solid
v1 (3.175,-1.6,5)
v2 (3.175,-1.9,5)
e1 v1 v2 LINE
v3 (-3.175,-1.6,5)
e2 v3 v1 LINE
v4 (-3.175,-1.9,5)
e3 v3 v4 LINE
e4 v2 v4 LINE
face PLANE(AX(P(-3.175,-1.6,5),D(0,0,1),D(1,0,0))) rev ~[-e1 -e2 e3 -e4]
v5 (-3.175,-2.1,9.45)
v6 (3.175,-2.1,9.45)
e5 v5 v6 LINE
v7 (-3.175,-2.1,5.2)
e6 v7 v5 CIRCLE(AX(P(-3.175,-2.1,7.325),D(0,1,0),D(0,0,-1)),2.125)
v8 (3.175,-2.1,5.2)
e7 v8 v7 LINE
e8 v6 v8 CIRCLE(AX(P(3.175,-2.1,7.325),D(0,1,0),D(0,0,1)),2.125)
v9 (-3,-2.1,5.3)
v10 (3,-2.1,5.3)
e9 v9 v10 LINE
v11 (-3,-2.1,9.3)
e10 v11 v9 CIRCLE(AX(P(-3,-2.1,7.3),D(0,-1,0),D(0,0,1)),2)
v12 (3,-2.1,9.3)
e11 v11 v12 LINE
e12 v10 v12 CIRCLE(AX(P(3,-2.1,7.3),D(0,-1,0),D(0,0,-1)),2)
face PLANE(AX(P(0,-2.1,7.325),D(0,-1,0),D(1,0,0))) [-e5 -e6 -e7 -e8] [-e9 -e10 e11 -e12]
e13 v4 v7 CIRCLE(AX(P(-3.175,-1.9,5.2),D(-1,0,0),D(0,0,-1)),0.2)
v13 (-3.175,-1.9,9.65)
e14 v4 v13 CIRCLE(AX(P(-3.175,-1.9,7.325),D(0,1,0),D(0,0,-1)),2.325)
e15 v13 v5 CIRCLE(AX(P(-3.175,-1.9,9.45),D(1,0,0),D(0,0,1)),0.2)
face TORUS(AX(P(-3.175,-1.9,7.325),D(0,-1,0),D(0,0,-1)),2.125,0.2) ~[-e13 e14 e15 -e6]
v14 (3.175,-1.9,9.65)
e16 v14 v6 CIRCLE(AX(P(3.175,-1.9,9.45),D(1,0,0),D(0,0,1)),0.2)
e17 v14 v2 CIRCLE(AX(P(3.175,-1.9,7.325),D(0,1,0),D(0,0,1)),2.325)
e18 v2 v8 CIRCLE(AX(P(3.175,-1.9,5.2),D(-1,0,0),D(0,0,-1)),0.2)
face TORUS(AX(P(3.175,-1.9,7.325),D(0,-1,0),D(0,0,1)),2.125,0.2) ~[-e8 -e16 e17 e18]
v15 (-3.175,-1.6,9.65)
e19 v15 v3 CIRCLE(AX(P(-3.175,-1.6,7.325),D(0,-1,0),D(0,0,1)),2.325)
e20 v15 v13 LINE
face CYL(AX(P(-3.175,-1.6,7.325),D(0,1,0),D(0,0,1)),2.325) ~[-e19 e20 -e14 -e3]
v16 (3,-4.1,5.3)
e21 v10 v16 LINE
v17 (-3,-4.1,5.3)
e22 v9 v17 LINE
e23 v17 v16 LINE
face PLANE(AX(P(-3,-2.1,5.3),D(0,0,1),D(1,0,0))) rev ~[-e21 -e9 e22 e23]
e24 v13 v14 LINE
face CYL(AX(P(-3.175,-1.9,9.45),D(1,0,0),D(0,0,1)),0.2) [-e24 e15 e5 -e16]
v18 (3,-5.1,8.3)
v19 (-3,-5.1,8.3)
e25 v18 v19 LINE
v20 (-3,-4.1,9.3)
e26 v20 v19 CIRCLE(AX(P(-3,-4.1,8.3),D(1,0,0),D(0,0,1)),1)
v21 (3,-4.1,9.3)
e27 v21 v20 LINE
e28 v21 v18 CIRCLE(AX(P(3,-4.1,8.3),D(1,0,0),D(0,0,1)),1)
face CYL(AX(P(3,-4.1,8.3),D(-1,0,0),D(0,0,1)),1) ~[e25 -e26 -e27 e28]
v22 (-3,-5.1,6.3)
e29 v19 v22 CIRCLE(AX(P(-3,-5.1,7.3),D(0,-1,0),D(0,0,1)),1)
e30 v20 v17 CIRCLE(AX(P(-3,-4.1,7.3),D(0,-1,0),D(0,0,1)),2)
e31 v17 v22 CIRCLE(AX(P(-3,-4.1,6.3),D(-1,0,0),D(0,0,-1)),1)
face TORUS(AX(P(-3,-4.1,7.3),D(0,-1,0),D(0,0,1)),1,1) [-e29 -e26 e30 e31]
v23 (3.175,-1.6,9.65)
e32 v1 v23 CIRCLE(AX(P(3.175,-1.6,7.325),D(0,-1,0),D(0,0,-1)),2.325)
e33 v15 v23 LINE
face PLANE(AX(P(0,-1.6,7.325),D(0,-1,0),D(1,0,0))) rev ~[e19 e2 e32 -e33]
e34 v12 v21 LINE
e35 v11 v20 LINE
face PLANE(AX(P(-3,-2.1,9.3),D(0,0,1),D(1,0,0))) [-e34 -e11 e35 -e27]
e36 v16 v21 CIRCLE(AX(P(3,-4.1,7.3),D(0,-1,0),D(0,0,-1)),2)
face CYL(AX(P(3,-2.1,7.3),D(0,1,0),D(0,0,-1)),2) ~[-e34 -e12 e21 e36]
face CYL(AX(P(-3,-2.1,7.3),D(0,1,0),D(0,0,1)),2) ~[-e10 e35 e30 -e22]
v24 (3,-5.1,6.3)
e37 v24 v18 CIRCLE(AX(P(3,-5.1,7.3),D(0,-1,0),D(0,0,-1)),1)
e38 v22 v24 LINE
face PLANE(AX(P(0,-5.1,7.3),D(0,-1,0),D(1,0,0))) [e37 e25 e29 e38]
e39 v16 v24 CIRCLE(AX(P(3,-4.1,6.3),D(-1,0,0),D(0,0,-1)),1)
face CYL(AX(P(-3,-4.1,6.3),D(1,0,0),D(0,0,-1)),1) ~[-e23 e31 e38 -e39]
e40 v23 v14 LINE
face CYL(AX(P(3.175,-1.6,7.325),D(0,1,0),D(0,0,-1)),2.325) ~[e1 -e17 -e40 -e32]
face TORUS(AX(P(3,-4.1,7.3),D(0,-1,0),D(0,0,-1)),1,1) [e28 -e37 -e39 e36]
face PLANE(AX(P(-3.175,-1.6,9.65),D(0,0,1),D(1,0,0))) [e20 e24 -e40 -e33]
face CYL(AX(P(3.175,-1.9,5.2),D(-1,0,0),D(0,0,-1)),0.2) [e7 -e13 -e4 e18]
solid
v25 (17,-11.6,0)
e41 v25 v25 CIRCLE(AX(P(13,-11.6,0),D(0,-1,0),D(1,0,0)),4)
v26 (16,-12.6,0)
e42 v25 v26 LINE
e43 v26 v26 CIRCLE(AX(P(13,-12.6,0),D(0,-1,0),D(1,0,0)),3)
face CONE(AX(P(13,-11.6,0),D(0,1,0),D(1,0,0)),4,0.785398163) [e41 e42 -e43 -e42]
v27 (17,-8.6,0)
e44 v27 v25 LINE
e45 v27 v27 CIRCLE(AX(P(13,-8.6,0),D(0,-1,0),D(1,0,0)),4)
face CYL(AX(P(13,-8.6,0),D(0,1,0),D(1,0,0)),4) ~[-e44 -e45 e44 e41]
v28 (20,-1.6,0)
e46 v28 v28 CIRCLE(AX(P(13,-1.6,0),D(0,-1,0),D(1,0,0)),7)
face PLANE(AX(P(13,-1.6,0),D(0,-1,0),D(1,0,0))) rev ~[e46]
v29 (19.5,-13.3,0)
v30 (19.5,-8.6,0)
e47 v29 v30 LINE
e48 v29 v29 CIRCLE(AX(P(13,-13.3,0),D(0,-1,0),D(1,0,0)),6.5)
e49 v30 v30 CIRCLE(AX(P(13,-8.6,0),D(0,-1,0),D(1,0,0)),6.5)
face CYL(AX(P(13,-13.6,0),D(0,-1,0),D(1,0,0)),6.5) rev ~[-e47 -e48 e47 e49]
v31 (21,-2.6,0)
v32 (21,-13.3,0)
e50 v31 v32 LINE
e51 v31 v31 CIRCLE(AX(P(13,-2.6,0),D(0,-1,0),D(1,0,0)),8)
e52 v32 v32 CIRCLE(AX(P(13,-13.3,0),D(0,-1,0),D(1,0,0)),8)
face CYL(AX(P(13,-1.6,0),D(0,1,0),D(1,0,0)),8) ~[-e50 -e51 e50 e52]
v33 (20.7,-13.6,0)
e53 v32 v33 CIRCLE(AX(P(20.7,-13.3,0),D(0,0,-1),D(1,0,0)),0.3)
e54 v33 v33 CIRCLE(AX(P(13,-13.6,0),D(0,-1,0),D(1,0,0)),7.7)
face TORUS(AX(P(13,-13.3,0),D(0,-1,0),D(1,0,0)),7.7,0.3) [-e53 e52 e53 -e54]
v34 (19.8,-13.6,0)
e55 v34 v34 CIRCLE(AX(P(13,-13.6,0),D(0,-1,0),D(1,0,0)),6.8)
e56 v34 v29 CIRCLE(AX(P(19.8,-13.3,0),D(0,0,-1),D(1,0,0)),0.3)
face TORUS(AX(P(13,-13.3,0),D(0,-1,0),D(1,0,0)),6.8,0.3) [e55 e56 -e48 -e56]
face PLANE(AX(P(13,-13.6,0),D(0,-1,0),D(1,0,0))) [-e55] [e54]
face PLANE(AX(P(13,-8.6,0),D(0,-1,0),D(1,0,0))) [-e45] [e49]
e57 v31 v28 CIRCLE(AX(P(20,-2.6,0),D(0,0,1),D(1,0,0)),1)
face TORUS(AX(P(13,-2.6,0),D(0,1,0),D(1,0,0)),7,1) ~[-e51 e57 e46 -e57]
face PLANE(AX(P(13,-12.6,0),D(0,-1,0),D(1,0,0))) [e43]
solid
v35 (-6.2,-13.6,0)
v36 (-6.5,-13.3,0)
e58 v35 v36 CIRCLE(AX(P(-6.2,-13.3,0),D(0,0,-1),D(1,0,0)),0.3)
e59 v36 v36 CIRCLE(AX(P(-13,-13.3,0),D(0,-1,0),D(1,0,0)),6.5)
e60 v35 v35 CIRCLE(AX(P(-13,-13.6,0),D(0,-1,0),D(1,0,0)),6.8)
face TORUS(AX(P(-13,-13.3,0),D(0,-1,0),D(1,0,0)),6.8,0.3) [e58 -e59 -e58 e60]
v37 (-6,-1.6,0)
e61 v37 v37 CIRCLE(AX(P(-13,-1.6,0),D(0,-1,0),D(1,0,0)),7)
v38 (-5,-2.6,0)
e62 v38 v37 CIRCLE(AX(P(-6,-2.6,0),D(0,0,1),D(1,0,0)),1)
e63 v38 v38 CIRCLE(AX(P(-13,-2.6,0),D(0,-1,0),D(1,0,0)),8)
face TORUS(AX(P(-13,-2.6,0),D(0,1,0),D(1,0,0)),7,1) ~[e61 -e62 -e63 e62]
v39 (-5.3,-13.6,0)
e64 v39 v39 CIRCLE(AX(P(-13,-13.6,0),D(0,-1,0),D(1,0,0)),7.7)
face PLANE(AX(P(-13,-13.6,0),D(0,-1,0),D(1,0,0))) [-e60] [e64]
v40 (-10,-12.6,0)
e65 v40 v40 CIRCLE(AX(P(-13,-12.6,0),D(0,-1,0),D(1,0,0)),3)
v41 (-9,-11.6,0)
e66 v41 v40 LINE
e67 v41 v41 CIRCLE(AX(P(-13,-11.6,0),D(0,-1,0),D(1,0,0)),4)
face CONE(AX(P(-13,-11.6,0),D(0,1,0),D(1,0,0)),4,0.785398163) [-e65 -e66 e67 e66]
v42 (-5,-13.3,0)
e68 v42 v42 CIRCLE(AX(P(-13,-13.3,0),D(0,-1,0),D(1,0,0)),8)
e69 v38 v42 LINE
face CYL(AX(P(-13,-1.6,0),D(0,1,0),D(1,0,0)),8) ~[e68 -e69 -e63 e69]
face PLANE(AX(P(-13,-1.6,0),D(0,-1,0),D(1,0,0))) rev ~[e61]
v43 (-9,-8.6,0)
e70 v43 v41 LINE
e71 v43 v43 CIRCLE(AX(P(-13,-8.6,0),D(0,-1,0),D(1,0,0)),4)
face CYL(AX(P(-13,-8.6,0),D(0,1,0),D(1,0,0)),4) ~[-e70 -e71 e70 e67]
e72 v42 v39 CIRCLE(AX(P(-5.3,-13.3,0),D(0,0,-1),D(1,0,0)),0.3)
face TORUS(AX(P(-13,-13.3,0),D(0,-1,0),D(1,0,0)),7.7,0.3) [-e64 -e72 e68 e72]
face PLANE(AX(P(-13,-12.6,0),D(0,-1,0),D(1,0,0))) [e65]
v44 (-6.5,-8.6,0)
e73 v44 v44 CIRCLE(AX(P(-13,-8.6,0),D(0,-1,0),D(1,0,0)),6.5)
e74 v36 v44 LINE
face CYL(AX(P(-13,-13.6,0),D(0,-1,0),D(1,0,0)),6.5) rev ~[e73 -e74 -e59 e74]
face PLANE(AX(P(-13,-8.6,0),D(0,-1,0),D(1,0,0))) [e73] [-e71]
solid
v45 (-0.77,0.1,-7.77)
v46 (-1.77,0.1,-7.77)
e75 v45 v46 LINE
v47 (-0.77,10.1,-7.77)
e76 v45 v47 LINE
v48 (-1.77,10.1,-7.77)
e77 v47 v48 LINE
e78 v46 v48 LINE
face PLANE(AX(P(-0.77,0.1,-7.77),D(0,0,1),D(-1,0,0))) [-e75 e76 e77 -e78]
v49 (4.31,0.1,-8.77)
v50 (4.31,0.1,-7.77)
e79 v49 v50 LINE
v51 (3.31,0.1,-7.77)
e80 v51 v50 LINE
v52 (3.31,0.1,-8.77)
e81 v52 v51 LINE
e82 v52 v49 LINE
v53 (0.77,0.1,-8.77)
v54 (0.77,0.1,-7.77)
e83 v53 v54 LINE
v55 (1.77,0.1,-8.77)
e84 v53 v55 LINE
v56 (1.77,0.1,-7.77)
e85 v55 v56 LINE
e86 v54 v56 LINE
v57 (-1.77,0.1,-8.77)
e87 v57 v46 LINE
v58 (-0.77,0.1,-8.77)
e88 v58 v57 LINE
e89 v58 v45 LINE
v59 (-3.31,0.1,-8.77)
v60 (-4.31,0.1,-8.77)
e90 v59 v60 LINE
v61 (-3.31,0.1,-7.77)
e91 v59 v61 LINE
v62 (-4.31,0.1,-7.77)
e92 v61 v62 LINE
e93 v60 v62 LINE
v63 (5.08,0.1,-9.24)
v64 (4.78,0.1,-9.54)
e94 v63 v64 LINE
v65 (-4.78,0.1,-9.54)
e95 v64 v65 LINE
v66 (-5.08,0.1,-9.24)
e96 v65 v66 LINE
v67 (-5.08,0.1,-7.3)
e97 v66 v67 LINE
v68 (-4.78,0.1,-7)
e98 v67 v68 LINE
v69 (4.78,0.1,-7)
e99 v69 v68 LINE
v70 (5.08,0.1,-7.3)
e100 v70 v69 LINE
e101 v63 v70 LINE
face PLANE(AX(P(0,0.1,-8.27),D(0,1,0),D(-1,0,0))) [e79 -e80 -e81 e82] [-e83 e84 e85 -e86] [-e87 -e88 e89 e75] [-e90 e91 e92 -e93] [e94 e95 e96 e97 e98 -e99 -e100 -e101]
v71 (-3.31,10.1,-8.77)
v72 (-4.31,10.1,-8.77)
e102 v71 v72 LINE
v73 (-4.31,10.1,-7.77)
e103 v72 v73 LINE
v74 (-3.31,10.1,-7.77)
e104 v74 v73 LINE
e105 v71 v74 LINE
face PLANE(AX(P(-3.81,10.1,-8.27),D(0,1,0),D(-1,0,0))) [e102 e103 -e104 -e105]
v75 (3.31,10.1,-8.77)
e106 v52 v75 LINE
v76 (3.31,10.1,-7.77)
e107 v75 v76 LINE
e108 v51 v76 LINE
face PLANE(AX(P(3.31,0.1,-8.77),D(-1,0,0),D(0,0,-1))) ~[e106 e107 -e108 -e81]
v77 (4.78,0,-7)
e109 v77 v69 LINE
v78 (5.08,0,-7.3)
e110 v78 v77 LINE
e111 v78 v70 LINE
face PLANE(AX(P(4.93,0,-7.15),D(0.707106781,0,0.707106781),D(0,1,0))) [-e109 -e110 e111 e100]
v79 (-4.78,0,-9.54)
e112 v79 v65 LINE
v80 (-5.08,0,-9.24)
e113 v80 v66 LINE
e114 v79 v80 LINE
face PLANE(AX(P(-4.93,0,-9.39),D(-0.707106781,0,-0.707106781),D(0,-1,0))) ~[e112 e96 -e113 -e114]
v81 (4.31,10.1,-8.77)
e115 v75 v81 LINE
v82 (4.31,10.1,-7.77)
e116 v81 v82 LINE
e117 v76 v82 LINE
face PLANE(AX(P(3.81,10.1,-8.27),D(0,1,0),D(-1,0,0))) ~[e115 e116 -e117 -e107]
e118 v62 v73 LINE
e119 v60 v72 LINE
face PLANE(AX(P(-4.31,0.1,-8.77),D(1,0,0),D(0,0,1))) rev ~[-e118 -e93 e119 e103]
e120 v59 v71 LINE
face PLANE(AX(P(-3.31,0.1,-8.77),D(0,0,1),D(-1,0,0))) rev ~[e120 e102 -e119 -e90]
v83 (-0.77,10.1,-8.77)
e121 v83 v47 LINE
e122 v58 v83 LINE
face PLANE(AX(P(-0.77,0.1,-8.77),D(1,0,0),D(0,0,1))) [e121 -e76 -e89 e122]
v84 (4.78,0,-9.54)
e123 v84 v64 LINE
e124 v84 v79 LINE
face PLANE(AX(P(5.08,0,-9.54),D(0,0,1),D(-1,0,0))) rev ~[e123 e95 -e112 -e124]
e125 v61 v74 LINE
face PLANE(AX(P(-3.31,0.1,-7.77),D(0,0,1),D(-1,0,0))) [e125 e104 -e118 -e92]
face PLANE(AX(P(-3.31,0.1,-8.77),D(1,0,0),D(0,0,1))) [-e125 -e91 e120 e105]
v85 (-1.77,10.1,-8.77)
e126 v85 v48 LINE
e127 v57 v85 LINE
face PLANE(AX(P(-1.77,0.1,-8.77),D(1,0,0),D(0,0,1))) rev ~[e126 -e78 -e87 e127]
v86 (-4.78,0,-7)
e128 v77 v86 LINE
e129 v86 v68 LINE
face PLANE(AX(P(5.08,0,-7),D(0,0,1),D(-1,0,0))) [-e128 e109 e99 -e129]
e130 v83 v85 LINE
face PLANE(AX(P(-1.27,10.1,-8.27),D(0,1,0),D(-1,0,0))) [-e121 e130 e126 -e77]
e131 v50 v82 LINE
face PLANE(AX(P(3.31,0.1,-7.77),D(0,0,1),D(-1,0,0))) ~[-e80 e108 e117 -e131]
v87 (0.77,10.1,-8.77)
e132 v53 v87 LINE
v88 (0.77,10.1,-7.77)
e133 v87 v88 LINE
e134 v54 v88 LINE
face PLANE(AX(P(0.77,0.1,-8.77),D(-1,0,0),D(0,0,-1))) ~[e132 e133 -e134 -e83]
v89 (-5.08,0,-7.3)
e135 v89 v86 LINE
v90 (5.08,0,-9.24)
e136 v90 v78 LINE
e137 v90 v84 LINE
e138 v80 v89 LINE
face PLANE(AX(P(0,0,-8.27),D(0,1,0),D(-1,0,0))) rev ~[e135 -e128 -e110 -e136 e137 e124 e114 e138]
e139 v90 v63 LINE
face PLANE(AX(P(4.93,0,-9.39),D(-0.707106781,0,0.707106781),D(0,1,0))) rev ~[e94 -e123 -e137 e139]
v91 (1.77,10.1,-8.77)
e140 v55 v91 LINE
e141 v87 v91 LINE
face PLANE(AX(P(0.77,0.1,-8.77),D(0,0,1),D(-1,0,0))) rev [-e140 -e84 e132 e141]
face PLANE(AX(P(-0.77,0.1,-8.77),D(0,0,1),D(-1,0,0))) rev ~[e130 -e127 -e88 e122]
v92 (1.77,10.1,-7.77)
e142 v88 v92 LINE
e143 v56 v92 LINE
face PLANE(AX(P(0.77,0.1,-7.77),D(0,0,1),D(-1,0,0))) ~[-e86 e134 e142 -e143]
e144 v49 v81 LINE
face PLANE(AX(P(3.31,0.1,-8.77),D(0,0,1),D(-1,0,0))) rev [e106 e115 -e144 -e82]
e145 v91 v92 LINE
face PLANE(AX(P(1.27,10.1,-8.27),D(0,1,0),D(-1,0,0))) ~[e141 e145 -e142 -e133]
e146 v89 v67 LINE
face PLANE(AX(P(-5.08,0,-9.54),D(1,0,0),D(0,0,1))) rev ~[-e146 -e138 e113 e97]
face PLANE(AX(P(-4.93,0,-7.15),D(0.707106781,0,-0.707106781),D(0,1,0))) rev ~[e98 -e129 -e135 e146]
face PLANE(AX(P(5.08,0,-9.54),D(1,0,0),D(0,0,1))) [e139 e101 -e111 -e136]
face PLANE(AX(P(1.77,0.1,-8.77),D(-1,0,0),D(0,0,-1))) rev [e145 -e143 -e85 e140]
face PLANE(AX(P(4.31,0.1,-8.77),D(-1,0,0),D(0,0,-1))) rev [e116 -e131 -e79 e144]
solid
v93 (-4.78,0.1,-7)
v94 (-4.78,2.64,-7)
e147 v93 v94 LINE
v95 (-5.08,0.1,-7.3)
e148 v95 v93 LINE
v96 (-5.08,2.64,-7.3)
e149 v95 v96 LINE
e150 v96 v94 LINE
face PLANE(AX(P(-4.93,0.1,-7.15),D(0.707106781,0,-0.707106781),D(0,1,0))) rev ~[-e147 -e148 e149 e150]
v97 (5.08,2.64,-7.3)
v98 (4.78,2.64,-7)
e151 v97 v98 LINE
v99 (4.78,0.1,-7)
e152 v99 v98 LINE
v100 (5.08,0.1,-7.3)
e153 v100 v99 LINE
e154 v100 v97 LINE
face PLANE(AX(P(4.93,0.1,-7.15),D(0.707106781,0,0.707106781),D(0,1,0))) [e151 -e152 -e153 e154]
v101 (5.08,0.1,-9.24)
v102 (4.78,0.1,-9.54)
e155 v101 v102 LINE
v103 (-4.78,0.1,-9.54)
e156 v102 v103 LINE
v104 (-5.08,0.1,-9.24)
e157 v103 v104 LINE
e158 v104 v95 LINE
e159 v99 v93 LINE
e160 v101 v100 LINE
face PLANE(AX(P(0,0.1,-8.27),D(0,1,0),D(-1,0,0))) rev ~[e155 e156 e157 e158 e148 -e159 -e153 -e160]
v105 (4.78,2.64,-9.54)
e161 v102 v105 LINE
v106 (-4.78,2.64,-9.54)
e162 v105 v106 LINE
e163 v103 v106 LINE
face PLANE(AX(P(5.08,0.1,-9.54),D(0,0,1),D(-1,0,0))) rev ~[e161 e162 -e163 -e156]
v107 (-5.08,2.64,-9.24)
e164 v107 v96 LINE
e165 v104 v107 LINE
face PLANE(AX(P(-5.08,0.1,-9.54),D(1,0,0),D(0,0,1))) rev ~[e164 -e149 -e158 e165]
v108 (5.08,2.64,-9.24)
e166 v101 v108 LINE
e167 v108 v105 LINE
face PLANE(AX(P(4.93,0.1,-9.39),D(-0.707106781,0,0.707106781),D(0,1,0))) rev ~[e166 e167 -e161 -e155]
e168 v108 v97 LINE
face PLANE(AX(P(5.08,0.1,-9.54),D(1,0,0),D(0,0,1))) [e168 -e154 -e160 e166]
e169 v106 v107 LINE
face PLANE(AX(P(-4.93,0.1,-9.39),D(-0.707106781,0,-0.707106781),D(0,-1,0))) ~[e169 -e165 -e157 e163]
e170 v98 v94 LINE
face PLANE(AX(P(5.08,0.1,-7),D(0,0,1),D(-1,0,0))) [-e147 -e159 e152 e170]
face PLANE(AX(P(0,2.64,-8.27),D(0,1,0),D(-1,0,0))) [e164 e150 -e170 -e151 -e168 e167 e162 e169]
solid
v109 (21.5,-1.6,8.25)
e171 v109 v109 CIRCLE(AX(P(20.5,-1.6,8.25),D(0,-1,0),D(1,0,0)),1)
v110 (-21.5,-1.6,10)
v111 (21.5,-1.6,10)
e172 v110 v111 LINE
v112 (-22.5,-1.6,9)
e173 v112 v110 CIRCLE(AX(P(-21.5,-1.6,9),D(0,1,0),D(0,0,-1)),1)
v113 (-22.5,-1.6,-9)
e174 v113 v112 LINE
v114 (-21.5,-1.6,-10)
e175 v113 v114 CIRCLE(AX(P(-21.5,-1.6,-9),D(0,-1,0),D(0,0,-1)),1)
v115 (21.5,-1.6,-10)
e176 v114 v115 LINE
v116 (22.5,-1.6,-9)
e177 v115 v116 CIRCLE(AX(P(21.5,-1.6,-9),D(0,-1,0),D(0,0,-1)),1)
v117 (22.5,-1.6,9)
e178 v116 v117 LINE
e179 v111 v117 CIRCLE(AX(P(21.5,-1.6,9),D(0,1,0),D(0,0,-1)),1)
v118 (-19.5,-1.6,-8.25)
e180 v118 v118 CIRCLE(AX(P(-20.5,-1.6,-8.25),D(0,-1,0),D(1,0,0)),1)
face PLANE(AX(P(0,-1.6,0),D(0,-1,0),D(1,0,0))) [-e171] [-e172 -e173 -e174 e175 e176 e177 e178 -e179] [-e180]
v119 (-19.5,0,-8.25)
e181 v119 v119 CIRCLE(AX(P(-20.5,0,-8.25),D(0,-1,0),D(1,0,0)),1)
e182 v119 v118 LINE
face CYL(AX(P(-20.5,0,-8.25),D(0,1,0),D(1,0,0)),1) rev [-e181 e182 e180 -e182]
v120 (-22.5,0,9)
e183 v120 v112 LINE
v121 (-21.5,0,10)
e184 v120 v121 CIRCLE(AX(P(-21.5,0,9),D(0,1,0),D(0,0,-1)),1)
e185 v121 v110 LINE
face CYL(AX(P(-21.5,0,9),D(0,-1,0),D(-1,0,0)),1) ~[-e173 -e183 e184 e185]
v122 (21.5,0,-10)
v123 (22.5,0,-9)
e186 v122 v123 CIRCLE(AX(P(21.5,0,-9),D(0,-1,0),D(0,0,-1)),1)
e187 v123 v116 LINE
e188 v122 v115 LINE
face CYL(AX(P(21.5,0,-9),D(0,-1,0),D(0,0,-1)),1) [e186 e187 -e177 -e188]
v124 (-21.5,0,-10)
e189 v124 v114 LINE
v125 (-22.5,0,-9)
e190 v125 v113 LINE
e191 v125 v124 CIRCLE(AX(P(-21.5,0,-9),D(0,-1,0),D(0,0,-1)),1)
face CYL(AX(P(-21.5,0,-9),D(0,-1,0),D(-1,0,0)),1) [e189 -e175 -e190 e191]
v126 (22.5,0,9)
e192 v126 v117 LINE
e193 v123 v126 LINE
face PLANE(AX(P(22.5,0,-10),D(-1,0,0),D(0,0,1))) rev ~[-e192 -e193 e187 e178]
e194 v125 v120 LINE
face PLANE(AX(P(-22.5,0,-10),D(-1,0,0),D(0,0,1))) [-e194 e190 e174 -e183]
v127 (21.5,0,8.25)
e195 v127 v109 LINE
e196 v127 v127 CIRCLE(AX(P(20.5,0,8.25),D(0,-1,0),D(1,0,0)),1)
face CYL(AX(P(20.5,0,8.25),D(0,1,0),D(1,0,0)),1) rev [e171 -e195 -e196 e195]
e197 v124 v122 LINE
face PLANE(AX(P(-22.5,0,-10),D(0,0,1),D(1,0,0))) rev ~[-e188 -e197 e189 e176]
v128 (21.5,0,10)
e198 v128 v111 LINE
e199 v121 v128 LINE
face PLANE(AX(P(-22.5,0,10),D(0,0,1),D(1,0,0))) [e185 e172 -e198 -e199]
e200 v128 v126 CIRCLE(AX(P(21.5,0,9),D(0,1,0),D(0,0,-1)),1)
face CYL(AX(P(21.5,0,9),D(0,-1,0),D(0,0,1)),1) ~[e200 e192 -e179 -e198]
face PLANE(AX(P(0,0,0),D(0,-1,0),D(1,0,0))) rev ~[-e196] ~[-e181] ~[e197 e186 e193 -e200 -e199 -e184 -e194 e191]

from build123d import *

# Parameters (mm, degrees)
SKETCH_W        = 45
SKETCH_H        = 20
SKETCH_R        = 1
PAD_DEPTH       = 1.6
FILLET_R        = 1
SKETCH001_R     = 8
PAD001_DEPTH    = 12
SKETCH002_R     = 6.5
POCKET_DEPTH    = 5
SKETCH003_R     = 4
PAD002_DEPTH    = 4
FILLET001_R     = 1
FILLET002_R     = 0.3
CHAMFER_SIZE    = 1
SKETCH004_R     = 8
PAD003_DEPTH    = 12
SKETCH006_R     = 6.5
POCKET001_DEPTH = 5
SKETCH005_R     = 4
PAD004_DEPTH    = 4
FILLET003_R     = 1
FILLET004_R     = 0.3
CHAMFER001_SIZE = 1
PAD005_DEPTH    = 0.5
PAD006_DEPTH    = 3
FILLET005_R     = 0.2
FILLET006_R     = 1
SKETCH009_W     = 10.16
SKETCH009_H     = 2.54
PAD007_DEPTH    = 0.1
CHAMFER002_SIZE = 0.3
SKETCH010_W     = 1
SKETCH010_H     = 1
PAD008_DEPTH    = 10
SKETCH011_W     = 10.16
SKETCH011_H     = 2.54
PAD009_DEPTH    = 2.54
CHAMFER003_SIZE = 0.3


with BuildPart() as body:
    # Sketch → Pad (new body)
    with BuildSketch(Plane.XZ):
        Rectangle(SKETCH_W, SKETCH_H)
        with Locations((20.5, 8.25)):
            Circle(SKETCH_R, mode=Mode.SUBTRACT)
        with Locations((-20.5, -8.25)):
            Circle(SKETCH_R, mode=Mode.SUBTRACT)
    extrude(amount=PAD_DEPTH)

    # Fillet
    fillet_edges = [body.edges().sort_by_distance(p)[0] for p in [
        (22.5, -0.8, 10),
        (-22.5, -0.8, 10),
        (-22.5, -0.8, -10),
        (22.5, -0.8, -10),
    ]]
    fillet(fillet_edges, radius=FILLET_R)


with BuildPart() as body001:
    # Sketch001 → Pad001 (new body)
    with BuildSketch(Plane.XZ.offset(1.6)):
        with Locations((13, 0)):
            Circle(SKETCH001_R)
    extrude(amount=PAD001_DEPTH)

    # Sketch002 (on Face3 of Pad001) → Pocket (cut)
    with BuildSketch(Plane.XZ.offset(13.6)):
        with Locations((13, 0)):
            Circle(SKETCH002_R)
    extrude(amount=-POCKET_DEPTH, mode=Mode.SUBTRACT)

    # Sketch003 (on Face5 of Pocket) → Pad002 (join)
    with BuildSketch(Plane.XZ.offset(8.6)):
        with Locations((13, 0)):
            Circle(SKETCH003_R)
    extrude(amount=PAD002_DEPTH)

    # Fillet001
    fillet001_edges = [body001.edges().sort_by_distance(p)[0] for p in [
        (5, -1.6, 0),
    ]]
    fillet(fillet001_edges, radius=FILLET001_R)

    # Fillet002
    fillet002_edges = [body001.edges().sort_by_distance(p)[0] for p in [
        (5, -13.6, 0),
        (6.5, -13.6, 0),
    ]]
    fillet(fillet002_edges, radius=FILLET002_R)

    # Chamfer
    chamfer_edges = [body001.edges().sort_by_distance(p)[0] for p in [
        (9, -12.6, 0),
    ]]
    chamfer(chamfer_edges, length=CHAMFER_SIZE)


with BuildPart() as body002:
    # Sketch004 → Pad003 (new body)
    with BuildSketch(Plane.XZ.offset(1.6)):
        with Locations((13, 0)):
            Circle(SKETCH004_R)
    extrude(amount=PAD003_DEPTH)

    # Sketch006 (on Face3 of Pad003) → Pocket001 (cut)
    with BuildSketch(Plane.XZ.offset(13.6)):
        with Locations((13, 0)):
            Circle(SKETCH006_R)
    extrude(amount=-POCKET001_DEPTH, mode=Mode.SUBTRACT)

    # Sketch005 (on Face5 of Pocket001) → Pad004 (join)
    with BuildSketch(Plane.XZ.offset(8.6)):
        with Locations((13, 0)):
            Circle(SKETCH005_R)
    extrude(amount=PAD004_DEPTH)

    # Fillet003
    fillet003_edges = [body002.edges().sort_by_distance(p)[0] for p in [
        (5, -1.6, 0),
    ]]
    fillet(fillet003_edges, radius=FILLET003_R)

    # Fillet004
    fillet004_edges = [body002.edges().sort_by_distance(p)[0] for p in [
        (5, -13.6, 0),
        (6.5, -13.6, 0),
    ]]
    fillet(fillet004_edges, radius=FILLET004_R)

    # Chamfer001
    chamfer001_edges = [body002.edges().sort_by_distance(p)[0] for p in [
        (9, -12.6, 0),
    ]]
    chamfer(chamfer001_edges, length=CHAMFER001_SIZE)


with BuildPart() as body002_1:
    # Body002 placement: moved
    add(body002.part.moved(Location((-26, 0, 0))))


with BuildPart() as body003:
    # Sketch007 → Pad005 (new body)
    with BuildSketch(Plane.XZ.offset(1.6)):
        with BuildLine():
            ThreePointArc((-3.175, 9.65), (-5.5, 7.325), (-3.175, 5))
            Line((-3.175, 5), (3.175, 5))
            ThreePointArc((3.175, 5), (5.5, 7.325), (3.175, 9.65))
            Line((-3.175, 9.65), (3.175, 9.65))
        make_face()
    extrude(amount=PAD005_DEPTH)

    # Sketch008 (on Face6 of Pad005) → Pad006 (join)
    with BuildSketch(Plane.XZ.offset(2.1)):
        with BuildLine():
            ThreePointArc((-3, 9.3), (-5, 7.3), (-3, 5.3))
            Line((-3, 5.3), (3, 5.3))
            ThreePointArc((3, 5.3), (5, 7.3), (3, 9.3))
            Line((-3, 9.3), (3, 9.3))
        make_face()
    extrude(amount=PAD006_DEPTH)

    # Fillet005
    fillet005_edges = [body003.edges().sort_by_distance(p)[0] for p in [
        (0, -2.1, 9.65),
        (5.5, -2.1, 7.325),
        (-5.5, -2.1, 7.325),
        (0, -2.1, 5),
    ]]
    fillet(fillet005_edges, radius=FILLET005_R)

    # Fillet006
    fillet006_edges = [body003.edges().sort_by_distance(p)[0] for p in [
        (0, -5.1, 5.3),
        (5, -5.1, 7.3),
        (0, -5.1, 9.3),
        (-5, -5.1, 7.3),
    ]]
    fillet(fillet006_edges, radius=FILLET006_R)


with BuildPart() as body004:
    # Sketch009 → Pad007 (new body)
    with BuildSketch(Plane(origin=(0, 0, 0), x_dir=(-1, 0, 0), z_dir=(0, 1, 0))):
        with Locations((0, -8.27)):
            Rectangle(SKETCH009_W, SKETCH009_H)
    extrude(amount=PAD007_DEPTH)

    # Chamfer002
    chamfer002_edges = [body004.edges().sort_by_distance(p)[0] for p in [
        (-5.08, 0.05, -7),
        (-5.08, 0.05, -9.54),
        (5.08, 0.05, -7),
        (5.08, 0.05, -9.54),
    ]]
    chamfer(chamfer002_edges, length=CHAMFER002_SIZE)

    # Sketch010 (on Face5 of Chamfer002) → Pad008 (join)
    with BuildSketch(Plane(origin=(0, 0.1, 0), x_dir=(-1, 0, 0), z_dir=(0, 1, 0))):
        with Locations((1.27, -8.27)):
            Rectangle(SKETCH010_W, SKETCH010_H)
        with Locations((3.81, -8.27)):
            Rectangle(SKETCH010_W, SKETCH010_H)
    pad008 = extrude(amount=PAD008_DEPTH)

    # Mirrored: Pad008 across YZ
    add(pad008.mirror(Plane.YZ))


with BuildPart() as body005:
    # Sketch011 → Pad009 (new body)
    with BuildSketch(Plane(origin=(0, 0.1, 0), x_dir=(-1, 0, 0), z_dir=(0, 1, 0))):
        with Locations((0, -8.27)):
            Rectangle(SKETCH011_W, SKETCH011_H)
    extrude(amount=PAD009_DEPTH)

    # Chamfer003
    chamfer003_edges = [body005.edges().sort_by_distance(p)[0] for p in [
        (-5.08, 1.37, -9.54),
        (-5.08, 1.37, -7),
        (5.08, 1.37, -7),
        (5.08, 1.37, -9.54),
    ]]
    chamfer(chamfer003_edges, length=CHAMFER003_SIZE)


solid = Compound([body.part, body001.part, body002_1.part, body003.part, body004.part, body005.part])
